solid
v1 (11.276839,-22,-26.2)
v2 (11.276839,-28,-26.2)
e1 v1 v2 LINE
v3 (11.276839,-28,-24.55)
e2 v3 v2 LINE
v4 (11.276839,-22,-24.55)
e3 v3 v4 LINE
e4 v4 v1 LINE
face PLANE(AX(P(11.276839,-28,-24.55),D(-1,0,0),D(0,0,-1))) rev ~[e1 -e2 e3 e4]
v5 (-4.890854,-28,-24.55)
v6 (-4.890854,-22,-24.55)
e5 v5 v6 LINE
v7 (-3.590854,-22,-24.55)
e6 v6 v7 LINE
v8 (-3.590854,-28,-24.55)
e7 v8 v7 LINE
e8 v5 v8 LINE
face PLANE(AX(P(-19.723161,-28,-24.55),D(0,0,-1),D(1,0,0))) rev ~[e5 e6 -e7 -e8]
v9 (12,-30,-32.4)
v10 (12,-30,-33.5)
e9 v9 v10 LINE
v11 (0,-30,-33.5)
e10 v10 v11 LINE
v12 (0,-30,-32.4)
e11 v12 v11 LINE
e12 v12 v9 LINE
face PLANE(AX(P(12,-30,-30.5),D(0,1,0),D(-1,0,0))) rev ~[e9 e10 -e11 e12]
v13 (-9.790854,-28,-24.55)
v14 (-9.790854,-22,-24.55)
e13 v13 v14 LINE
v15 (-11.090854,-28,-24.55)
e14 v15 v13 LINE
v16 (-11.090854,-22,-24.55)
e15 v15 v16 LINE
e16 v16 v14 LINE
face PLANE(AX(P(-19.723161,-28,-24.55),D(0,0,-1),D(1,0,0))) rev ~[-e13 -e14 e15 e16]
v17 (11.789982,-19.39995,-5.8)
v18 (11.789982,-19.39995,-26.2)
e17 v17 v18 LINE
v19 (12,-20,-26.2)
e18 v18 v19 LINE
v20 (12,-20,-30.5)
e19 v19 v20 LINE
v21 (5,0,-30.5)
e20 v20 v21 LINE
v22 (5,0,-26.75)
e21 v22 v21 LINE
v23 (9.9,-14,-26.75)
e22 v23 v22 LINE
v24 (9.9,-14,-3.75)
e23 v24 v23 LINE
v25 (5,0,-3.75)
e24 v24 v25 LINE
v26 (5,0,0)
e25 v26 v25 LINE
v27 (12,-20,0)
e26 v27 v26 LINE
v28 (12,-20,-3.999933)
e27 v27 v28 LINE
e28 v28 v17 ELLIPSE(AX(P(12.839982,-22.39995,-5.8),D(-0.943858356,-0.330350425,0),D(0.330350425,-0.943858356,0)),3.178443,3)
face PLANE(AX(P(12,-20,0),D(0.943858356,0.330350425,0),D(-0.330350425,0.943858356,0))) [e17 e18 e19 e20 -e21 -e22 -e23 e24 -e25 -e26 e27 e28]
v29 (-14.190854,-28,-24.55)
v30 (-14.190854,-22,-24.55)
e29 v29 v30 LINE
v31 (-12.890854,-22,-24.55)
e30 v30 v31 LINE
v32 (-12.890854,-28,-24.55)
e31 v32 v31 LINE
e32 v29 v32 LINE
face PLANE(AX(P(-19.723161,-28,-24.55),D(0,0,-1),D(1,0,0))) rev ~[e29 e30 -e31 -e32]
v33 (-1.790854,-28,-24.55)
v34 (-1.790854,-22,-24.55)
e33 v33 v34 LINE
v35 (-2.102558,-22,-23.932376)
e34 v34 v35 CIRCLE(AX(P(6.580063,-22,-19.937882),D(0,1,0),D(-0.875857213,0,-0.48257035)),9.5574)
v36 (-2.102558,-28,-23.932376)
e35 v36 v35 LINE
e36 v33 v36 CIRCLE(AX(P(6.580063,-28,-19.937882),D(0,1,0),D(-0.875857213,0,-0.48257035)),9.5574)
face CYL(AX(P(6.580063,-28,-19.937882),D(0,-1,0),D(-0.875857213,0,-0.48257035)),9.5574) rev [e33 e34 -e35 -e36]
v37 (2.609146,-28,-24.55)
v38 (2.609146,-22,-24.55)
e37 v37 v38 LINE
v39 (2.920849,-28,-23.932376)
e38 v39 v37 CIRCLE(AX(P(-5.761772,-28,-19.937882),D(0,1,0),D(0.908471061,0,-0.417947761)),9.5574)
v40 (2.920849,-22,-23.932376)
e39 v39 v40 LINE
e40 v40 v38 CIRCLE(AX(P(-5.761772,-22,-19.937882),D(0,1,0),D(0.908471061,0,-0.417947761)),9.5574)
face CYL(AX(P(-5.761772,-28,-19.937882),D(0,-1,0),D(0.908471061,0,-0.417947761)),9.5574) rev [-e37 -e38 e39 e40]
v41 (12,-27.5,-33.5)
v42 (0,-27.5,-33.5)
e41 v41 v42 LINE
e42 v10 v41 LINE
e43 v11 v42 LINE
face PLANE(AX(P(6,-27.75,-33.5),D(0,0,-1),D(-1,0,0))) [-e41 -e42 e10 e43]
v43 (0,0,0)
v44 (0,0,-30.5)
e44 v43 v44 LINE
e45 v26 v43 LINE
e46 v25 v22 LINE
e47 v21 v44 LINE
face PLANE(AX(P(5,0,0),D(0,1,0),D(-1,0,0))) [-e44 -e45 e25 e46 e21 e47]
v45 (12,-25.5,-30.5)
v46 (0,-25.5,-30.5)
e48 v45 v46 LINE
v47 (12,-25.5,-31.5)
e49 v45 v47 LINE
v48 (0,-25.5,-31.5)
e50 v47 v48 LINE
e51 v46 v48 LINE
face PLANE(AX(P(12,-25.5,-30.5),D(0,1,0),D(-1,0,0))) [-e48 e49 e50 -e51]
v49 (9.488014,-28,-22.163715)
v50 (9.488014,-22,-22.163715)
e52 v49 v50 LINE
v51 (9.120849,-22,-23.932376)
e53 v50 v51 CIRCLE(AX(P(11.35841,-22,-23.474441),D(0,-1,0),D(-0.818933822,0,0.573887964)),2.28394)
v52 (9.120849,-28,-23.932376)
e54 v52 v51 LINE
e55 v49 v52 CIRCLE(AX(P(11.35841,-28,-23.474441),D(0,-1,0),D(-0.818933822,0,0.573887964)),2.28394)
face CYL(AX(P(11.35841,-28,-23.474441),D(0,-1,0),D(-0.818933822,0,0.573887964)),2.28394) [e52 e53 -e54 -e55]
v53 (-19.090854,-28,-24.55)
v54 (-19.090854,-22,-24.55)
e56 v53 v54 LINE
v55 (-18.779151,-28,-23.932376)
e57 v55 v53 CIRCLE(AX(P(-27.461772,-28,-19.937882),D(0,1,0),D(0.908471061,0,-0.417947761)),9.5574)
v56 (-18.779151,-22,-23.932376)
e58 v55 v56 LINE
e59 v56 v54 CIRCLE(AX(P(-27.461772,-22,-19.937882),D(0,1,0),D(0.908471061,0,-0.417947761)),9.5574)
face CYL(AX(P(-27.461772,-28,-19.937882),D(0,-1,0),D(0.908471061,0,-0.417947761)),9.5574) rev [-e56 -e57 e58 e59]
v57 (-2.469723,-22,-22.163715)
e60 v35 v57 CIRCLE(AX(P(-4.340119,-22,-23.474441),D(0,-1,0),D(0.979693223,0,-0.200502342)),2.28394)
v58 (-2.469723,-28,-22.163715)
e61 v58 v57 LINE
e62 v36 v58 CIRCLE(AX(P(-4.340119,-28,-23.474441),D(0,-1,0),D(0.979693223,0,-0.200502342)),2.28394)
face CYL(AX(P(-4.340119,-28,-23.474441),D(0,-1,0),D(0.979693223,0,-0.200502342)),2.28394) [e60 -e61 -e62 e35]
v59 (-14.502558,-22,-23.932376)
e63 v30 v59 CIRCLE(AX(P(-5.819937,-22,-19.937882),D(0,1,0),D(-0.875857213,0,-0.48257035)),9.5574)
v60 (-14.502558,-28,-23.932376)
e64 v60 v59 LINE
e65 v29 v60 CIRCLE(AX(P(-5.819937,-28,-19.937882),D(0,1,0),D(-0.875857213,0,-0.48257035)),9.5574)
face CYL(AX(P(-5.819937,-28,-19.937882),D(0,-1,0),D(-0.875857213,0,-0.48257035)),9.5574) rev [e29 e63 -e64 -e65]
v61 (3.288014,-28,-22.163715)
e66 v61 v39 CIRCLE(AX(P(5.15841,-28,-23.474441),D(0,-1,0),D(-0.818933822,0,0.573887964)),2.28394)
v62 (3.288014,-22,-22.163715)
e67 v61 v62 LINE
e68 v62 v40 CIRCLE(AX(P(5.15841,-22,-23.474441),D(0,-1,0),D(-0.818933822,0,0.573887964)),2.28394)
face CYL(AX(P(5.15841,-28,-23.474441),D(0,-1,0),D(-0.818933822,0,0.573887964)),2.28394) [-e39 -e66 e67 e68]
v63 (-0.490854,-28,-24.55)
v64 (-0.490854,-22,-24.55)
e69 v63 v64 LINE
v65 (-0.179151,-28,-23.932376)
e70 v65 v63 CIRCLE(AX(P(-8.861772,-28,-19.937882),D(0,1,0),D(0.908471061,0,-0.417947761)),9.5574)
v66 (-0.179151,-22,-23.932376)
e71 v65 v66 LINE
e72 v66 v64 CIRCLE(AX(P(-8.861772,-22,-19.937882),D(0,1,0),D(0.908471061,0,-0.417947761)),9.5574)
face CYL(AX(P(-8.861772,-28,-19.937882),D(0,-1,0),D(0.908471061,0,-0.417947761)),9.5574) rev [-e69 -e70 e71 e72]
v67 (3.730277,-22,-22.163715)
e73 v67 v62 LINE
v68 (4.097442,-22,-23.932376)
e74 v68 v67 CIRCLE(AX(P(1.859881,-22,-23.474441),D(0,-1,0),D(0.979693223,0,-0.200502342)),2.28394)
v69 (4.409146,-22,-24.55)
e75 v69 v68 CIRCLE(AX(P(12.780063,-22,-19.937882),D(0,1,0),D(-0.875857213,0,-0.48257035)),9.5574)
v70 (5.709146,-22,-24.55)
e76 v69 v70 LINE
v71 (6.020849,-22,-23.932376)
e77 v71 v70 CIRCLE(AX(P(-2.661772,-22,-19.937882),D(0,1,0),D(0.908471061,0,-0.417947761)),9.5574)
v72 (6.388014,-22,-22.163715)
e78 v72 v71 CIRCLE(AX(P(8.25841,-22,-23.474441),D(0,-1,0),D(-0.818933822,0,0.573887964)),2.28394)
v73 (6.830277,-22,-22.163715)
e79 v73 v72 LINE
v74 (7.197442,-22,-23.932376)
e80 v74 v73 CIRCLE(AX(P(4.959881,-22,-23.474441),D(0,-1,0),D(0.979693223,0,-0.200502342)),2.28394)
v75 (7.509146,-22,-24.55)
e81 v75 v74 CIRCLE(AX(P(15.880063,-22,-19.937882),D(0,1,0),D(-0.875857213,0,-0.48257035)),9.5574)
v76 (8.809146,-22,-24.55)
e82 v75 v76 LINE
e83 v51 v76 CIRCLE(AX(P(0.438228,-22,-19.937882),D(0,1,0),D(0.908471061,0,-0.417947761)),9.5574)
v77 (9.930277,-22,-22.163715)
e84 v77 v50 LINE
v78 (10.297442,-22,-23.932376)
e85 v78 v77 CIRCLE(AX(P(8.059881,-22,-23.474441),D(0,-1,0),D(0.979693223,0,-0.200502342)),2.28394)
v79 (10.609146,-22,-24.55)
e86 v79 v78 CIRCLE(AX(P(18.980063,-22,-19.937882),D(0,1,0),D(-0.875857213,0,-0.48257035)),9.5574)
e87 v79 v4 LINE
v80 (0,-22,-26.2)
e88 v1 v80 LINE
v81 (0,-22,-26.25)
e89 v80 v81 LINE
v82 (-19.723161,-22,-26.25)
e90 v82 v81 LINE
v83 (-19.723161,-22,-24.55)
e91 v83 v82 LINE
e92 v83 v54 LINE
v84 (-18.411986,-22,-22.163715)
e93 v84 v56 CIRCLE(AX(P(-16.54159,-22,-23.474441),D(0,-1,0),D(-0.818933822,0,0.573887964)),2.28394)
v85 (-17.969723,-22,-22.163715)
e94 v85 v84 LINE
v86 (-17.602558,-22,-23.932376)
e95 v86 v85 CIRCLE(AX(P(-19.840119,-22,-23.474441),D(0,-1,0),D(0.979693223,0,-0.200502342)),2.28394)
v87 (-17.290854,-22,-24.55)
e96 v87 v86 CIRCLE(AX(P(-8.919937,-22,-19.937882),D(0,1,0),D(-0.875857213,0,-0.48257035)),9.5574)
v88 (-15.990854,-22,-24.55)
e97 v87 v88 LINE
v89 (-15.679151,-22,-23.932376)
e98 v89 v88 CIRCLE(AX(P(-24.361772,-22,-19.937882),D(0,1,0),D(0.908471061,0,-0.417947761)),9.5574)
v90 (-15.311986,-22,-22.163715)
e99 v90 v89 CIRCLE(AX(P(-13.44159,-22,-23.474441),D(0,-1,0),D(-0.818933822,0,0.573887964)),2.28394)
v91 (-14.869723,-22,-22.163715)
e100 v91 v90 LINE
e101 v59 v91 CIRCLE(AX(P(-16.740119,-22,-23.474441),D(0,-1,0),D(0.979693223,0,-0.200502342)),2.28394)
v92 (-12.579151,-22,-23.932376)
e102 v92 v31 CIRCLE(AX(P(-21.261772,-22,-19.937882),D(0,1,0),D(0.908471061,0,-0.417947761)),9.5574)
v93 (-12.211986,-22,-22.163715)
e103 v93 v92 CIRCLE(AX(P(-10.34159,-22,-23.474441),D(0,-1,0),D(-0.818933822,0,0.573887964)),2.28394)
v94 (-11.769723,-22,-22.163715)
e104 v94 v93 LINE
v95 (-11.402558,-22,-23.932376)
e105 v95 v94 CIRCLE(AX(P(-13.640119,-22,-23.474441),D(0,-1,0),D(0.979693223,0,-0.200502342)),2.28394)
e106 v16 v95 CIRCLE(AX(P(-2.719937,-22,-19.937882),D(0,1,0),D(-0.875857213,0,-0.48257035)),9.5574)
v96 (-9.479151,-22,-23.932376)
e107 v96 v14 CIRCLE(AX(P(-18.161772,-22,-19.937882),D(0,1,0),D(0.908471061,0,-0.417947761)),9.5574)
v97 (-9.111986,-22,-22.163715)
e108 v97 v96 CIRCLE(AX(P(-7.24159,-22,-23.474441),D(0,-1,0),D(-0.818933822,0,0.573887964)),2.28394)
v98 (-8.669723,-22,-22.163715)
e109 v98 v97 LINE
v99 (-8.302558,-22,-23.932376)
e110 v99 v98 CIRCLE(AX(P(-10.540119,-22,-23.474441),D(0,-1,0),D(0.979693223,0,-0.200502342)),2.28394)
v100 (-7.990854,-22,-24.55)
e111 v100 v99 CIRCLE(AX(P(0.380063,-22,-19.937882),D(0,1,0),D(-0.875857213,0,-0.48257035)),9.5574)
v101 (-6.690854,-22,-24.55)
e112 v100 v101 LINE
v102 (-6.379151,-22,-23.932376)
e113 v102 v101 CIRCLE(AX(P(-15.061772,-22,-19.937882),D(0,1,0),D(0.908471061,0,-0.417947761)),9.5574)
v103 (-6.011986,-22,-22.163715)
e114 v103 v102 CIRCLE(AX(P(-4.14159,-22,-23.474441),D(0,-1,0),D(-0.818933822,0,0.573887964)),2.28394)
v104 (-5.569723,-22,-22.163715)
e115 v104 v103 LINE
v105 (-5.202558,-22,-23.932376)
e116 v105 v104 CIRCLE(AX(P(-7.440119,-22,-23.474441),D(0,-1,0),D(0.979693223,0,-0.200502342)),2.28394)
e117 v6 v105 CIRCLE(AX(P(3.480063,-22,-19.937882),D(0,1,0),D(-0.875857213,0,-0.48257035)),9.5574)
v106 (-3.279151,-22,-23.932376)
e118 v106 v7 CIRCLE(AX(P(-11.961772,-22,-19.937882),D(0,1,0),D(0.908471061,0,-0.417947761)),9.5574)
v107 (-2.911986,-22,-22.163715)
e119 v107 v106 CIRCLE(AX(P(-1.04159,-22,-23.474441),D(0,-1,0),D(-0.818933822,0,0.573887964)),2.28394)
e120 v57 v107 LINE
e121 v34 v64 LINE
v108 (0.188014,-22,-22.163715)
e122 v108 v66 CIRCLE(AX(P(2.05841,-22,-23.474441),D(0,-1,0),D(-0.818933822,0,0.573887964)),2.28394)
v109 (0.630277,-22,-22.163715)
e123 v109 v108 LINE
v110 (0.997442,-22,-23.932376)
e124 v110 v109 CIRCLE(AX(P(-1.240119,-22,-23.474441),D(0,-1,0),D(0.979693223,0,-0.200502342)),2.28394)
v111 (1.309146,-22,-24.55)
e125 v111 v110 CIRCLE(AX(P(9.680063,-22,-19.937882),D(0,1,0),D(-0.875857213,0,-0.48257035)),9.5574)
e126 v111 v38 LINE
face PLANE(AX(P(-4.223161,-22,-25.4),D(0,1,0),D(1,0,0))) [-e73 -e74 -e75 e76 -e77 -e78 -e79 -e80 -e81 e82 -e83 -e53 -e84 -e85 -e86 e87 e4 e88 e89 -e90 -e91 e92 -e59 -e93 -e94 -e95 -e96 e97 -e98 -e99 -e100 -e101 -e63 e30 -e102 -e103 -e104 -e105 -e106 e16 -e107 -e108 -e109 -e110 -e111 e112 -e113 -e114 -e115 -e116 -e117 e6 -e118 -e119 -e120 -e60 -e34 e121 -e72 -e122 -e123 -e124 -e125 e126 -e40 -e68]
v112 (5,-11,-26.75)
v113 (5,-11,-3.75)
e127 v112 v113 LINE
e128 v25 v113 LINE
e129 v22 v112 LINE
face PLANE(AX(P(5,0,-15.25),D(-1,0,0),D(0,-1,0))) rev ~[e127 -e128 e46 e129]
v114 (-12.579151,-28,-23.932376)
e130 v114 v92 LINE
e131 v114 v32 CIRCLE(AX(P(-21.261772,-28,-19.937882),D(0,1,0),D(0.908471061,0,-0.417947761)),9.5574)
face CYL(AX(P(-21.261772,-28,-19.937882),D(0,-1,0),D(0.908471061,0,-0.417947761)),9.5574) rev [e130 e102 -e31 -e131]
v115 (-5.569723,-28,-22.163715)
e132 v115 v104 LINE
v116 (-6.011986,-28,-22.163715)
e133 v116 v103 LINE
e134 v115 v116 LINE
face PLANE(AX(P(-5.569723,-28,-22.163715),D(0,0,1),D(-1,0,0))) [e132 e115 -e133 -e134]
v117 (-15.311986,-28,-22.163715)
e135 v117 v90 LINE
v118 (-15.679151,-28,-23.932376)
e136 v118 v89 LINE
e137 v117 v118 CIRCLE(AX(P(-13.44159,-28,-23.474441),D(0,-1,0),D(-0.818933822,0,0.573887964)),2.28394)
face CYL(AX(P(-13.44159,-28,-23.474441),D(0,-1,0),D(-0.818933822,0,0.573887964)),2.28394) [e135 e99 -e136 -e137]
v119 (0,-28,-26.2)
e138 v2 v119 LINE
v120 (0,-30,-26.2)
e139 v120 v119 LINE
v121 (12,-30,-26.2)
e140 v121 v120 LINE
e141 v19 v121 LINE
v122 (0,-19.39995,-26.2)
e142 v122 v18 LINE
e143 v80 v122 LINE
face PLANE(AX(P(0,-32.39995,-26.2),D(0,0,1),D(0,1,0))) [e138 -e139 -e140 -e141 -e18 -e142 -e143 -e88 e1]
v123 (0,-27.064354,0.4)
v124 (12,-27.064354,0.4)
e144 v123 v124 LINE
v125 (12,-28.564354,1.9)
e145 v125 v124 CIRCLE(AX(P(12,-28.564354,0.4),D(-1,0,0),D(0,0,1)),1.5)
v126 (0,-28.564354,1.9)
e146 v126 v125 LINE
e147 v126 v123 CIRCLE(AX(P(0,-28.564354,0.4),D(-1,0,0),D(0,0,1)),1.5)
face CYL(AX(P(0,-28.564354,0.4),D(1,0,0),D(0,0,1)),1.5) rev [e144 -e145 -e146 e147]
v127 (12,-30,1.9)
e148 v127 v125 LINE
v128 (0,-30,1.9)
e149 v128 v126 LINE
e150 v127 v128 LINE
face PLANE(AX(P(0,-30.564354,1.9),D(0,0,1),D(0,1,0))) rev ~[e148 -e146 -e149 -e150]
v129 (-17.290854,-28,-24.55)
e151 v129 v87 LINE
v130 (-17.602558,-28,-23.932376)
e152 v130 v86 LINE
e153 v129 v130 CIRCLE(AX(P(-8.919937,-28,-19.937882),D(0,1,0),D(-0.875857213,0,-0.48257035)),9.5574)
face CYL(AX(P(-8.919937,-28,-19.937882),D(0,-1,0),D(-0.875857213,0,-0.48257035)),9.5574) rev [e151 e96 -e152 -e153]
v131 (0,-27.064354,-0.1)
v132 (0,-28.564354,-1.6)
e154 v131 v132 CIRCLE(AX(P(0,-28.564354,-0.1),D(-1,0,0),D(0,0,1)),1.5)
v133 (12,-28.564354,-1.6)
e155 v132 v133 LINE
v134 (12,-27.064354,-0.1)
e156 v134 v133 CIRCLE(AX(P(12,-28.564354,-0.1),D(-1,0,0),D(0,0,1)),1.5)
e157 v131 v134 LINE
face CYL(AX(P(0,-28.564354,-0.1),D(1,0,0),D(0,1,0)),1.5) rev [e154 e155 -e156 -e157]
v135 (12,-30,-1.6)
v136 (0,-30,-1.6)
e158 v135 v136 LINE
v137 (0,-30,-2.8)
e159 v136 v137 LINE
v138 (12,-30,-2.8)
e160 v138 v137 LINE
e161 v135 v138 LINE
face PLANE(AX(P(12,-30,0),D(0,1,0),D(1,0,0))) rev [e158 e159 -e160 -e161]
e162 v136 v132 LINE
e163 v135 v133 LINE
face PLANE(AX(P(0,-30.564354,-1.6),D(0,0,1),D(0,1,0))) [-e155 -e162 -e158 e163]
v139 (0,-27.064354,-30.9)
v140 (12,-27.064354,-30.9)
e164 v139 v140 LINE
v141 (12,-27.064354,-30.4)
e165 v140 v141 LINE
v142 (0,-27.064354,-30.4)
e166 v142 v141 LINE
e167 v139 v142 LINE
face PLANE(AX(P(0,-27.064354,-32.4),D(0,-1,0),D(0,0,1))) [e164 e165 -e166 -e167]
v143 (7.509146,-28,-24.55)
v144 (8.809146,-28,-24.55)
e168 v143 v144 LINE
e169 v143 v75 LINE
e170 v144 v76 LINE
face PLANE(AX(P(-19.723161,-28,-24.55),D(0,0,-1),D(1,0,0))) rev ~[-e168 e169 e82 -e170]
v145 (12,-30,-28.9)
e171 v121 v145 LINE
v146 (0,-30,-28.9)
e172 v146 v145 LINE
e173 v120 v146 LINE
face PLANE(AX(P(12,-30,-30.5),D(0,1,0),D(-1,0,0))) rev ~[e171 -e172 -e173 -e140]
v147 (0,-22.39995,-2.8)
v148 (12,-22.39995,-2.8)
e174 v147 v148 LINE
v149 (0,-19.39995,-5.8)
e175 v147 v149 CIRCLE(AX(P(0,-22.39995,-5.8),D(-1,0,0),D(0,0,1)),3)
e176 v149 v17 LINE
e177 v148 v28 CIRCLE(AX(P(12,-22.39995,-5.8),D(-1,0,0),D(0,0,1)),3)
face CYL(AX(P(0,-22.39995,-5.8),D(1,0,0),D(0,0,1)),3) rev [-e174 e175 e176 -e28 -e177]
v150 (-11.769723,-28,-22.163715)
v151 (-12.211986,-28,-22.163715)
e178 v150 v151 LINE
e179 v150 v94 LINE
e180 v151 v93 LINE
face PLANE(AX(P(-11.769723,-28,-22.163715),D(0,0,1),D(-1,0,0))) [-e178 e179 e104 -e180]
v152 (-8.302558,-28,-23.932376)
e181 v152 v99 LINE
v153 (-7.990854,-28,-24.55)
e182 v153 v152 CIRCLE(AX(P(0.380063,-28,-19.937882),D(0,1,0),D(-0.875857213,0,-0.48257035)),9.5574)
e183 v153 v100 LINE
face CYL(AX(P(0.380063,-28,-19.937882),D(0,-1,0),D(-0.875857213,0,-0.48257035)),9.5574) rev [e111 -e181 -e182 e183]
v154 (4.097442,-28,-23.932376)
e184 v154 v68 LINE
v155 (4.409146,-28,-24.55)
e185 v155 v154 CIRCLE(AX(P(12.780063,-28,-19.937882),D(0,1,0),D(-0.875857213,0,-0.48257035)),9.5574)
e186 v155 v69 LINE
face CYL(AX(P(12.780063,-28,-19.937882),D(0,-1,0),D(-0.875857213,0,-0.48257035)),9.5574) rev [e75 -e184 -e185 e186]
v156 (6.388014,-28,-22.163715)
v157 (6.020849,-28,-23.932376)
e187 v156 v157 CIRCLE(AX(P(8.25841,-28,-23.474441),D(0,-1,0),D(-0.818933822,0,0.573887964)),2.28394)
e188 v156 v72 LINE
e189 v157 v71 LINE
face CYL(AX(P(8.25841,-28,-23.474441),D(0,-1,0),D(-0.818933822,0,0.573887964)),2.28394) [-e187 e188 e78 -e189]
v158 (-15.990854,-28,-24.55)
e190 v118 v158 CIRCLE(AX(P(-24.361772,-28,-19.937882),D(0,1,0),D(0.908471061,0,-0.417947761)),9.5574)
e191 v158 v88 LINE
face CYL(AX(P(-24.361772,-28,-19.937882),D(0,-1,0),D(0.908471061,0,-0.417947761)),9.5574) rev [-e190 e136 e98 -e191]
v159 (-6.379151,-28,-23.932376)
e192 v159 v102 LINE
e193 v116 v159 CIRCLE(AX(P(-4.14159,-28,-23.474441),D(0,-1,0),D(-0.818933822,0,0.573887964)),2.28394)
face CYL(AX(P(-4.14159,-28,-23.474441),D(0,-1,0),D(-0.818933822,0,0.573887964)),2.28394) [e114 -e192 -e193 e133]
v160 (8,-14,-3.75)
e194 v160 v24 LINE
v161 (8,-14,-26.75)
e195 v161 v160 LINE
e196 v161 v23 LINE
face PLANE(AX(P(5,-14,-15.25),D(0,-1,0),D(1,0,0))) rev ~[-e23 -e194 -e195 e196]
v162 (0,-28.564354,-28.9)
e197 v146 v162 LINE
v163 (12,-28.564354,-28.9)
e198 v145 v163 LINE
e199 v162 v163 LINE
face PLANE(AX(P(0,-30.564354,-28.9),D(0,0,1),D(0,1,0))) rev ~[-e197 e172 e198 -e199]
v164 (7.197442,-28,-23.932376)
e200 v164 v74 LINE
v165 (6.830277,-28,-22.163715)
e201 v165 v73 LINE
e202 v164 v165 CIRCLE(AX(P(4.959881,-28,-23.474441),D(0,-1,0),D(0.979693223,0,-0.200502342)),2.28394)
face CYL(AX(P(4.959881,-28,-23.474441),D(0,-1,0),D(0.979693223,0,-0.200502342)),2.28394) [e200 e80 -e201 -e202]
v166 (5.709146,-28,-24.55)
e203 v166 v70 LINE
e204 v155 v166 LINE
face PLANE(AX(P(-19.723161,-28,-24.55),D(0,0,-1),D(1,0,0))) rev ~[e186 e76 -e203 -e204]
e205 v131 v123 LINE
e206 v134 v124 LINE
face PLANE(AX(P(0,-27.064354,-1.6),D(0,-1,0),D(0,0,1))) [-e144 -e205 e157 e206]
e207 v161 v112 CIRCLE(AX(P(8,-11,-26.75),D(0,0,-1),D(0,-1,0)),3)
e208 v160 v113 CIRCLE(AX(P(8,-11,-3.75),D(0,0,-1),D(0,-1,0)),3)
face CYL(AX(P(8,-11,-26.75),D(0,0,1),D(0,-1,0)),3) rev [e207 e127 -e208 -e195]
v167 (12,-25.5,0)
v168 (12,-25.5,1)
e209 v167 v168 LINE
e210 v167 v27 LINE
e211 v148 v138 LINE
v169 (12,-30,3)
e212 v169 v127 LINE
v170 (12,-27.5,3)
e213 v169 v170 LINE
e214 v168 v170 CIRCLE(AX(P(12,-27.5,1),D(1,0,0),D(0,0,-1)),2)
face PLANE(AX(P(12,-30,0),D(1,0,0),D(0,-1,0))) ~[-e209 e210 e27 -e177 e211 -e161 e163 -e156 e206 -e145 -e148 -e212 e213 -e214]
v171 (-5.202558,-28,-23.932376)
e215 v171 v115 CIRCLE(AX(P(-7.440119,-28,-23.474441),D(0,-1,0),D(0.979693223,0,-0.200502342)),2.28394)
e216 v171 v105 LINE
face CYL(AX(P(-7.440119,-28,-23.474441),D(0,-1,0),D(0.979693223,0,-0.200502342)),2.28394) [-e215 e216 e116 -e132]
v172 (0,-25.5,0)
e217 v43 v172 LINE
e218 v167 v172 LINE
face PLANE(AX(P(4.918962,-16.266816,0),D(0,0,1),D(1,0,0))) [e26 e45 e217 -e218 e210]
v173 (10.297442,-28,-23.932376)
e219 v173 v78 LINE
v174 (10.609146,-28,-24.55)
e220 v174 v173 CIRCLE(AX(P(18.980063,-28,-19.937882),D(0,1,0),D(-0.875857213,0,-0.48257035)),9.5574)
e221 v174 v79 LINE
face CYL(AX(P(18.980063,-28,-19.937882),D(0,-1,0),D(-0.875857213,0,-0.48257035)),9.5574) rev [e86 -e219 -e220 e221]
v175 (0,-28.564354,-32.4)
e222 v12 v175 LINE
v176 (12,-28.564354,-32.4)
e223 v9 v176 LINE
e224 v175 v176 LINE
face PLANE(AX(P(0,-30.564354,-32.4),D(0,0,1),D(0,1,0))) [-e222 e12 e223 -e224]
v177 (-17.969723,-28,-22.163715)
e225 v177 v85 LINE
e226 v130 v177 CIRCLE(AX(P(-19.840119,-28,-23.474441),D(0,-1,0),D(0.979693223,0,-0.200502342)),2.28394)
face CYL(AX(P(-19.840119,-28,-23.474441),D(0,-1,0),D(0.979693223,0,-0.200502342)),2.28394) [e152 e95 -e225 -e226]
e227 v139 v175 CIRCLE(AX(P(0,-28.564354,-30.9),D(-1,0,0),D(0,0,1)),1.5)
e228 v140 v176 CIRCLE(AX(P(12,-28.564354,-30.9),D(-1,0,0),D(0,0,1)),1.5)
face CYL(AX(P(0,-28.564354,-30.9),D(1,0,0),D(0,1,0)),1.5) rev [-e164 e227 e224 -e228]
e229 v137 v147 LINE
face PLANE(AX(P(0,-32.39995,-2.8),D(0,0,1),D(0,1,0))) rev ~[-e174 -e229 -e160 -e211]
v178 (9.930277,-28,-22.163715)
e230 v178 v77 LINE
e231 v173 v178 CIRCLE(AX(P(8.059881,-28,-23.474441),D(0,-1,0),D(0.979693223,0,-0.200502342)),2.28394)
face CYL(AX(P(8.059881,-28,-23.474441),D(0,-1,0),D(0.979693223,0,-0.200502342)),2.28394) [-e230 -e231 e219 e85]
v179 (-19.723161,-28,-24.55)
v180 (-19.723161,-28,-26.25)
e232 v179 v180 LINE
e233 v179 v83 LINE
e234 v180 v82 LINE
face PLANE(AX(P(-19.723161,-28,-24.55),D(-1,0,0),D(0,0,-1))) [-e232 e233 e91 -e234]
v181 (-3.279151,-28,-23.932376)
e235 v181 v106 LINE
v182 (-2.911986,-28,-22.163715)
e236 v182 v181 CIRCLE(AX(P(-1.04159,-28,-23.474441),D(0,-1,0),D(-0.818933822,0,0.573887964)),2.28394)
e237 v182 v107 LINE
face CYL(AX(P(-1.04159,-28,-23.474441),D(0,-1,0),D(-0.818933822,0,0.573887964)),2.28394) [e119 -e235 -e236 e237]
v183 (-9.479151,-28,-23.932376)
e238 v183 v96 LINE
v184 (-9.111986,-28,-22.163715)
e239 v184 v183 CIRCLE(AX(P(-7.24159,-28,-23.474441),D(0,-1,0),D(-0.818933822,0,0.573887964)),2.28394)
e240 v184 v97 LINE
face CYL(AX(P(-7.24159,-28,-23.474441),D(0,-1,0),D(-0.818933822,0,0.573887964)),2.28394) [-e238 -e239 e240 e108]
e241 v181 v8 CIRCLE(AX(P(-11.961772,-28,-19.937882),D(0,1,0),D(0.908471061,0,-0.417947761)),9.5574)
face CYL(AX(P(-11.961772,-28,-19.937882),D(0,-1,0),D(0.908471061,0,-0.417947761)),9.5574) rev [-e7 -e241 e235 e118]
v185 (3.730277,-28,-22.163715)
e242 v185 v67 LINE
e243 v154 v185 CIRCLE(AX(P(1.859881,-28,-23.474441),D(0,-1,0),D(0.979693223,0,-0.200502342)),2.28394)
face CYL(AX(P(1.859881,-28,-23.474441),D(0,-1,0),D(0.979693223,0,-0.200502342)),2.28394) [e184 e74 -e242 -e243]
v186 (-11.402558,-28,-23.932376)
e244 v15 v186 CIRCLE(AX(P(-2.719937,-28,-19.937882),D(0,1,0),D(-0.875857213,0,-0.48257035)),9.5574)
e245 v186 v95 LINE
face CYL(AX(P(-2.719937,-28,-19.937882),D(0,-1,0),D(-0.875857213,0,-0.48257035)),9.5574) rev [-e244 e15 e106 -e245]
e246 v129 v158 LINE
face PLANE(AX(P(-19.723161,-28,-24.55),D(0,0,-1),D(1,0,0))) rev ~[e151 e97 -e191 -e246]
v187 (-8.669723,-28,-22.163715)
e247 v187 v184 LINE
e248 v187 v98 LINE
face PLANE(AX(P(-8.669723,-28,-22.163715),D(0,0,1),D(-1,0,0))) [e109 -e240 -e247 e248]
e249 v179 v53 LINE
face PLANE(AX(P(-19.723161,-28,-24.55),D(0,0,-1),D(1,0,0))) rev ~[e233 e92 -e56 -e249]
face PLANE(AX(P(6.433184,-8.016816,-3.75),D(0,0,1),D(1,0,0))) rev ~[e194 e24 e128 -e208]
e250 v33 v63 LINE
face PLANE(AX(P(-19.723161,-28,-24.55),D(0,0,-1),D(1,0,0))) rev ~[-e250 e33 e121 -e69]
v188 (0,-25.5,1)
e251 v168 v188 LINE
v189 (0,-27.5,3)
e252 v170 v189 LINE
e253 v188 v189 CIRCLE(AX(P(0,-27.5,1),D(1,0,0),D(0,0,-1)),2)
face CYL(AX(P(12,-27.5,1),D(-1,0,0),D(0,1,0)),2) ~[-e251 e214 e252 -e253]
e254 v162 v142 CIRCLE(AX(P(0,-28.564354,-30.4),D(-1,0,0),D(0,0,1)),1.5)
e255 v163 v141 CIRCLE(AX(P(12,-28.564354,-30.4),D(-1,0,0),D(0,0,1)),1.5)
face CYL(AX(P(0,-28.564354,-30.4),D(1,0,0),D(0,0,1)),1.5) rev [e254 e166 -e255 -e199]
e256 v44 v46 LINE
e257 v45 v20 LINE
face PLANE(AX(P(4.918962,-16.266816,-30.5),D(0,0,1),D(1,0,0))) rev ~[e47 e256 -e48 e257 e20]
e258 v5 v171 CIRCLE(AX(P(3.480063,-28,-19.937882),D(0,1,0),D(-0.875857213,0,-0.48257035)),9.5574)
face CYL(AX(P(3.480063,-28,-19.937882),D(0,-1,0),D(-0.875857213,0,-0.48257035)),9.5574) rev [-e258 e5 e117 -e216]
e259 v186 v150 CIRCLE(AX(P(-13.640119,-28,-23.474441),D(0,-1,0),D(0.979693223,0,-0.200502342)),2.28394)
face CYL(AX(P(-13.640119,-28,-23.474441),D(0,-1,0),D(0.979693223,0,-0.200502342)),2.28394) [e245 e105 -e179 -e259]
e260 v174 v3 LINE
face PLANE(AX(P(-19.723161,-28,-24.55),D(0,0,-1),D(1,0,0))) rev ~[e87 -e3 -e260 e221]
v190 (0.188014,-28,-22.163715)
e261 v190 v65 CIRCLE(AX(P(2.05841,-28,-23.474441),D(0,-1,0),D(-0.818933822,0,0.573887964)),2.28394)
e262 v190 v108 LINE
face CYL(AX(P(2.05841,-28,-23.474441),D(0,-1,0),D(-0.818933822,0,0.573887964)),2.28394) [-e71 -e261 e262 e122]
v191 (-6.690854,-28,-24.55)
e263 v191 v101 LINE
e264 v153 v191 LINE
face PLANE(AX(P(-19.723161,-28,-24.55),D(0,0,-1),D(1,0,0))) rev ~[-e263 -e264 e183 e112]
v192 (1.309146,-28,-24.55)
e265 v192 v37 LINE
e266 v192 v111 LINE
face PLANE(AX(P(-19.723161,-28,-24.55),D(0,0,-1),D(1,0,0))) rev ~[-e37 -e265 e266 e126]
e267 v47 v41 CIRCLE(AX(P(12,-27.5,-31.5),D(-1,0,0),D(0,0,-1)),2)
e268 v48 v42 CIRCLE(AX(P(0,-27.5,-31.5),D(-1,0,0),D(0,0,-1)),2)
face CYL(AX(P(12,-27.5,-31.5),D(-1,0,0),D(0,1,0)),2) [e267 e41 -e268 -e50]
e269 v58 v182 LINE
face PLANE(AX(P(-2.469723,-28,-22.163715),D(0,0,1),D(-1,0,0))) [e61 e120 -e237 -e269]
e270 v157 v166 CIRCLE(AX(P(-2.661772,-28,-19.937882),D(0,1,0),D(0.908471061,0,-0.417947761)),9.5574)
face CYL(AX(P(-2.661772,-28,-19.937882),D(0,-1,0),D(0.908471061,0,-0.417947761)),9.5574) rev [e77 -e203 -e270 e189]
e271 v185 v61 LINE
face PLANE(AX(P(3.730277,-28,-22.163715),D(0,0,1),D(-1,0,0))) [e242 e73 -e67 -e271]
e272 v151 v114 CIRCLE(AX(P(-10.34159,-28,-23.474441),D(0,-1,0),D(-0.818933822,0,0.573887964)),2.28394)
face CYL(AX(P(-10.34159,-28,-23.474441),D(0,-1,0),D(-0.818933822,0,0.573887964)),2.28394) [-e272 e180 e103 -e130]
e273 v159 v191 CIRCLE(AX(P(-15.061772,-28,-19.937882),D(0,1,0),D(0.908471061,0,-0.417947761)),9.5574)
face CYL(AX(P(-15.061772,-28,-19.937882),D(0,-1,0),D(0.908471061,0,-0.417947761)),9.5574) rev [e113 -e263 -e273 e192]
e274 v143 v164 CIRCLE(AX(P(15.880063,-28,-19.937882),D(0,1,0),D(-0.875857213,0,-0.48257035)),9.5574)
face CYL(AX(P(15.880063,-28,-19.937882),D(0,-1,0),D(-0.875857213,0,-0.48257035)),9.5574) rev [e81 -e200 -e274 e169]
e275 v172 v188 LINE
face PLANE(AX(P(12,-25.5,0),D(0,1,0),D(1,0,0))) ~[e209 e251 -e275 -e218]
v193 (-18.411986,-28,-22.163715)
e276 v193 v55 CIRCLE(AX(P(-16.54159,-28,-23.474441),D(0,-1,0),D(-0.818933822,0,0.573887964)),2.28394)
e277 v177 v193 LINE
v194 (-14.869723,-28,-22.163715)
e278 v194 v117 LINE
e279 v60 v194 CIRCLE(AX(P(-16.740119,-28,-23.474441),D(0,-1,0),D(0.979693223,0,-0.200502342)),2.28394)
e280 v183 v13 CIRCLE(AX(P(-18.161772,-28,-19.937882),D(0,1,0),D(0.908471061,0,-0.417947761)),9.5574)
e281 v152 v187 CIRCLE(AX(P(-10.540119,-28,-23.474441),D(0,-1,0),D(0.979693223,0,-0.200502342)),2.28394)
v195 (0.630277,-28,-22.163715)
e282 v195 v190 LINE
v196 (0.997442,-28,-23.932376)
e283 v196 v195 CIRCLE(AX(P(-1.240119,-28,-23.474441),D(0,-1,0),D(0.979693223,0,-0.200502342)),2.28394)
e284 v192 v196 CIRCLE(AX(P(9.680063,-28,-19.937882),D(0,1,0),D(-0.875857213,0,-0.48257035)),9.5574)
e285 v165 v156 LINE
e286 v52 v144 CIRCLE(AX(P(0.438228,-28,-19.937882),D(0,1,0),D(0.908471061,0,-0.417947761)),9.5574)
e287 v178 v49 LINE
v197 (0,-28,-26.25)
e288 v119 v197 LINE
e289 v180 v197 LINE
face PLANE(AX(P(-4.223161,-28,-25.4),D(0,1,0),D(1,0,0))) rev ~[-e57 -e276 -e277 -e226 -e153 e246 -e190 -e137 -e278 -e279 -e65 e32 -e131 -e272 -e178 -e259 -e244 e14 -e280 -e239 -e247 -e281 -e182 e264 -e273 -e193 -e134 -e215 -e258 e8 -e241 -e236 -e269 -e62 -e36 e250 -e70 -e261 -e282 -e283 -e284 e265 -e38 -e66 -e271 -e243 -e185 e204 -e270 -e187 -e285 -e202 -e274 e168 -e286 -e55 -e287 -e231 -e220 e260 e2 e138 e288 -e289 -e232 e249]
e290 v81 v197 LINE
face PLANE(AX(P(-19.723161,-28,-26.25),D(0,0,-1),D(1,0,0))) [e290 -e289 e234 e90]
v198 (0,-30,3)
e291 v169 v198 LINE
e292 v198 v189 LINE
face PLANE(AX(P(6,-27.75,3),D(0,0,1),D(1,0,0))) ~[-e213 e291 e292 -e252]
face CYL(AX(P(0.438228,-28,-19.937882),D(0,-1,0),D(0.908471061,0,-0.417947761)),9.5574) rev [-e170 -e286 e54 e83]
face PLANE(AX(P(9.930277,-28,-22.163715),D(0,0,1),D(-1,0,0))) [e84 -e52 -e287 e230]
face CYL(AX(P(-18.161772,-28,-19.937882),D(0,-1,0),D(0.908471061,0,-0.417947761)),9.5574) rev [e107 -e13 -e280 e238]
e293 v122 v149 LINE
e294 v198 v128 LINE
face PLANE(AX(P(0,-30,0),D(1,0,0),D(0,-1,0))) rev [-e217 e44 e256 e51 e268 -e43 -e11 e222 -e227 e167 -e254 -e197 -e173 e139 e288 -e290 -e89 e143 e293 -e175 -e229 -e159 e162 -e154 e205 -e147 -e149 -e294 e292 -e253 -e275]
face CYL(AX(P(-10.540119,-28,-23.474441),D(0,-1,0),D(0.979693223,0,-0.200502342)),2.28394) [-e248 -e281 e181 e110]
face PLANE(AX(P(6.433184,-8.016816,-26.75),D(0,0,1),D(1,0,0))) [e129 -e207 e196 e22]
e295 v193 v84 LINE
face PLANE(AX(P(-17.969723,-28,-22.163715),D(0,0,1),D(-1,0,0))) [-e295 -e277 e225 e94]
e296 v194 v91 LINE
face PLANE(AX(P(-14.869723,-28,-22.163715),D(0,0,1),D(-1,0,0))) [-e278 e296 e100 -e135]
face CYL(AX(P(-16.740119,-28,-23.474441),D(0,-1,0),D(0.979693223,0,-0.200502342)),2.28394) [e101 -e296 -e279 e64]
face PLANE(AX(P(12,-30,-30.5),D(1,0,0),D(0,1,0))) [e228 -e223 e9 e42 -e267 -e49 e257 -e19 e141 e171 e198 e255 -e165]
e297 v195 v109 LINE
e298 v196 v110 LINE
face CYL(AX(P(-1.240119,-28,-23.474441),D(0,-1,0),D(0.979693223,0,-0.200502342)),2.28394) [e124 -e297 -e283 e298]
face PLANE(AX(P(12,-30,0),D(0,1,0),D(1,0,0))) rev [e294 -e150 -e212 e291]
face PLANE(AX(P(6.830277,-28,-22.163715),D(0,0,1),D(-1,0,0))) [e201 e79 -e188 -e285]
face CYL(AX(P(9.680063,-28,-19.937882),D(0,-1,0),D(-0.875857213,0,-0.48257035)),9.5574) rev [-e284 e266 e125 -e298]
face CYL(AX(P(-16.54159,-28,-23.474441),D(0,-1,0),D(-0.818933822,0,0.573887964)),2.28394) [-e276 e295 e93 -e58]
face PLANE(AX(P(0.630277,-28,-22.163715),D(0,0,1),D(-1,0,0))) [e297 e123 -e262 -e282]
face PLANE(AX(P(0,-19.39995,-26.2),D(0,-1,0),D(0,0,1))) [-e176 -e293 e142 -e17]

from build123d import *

# Parameters (mm, degrees)
BOSS_EXTRUDE1_DEPTH = 30.5
SKETCH4_W           = 23.4
SKETCH4_H           = 13
CUT_EXTRUDE2_DEPTH  = 25
CUT_EXTRUDE4_DEPTH  = 11.5
SKETCH7_W           = 31
SKETCH7_H           = 1.7
BOSS_EXTRUDE3_DEPTH = 6
BOSS_EXTRUDE4_DEPTH = 6
LPATTERN1_COUNT     = 10
LPATTERN1_PITCH     = 3.1
SKETCH11_W          = 12
SKETCH11_H          = 4.5
BOSS_EXTRUDE5_DEPTH = 3
FILLET1_R           = 2
FILLET2_R           = 2
FILLET5_R           = 3
SKETCH12_W          = 3.5
SKETCH12_H          = 3.5
CUT_EXTRUDE5_DEPTH  = 12
FILLET6_R           = 1.5


with BuildPart() as part:
    # Sketch1 → Boss-Extrude1 (new body)
    with BuildSketch(Plane.XY):
        Polygon((0, 0), (0, -30), (12, -30), (12, -20), (5, 0), align=None)
    extrude(amount=-BOSS_EXTRUDE1_DEPTH)

    # Sketch4 → Cut-Extrude2 (cut)
    with BuildSketch(Plane.ZY):
        with Locations((-14.5, -25.899949695)):
            Rectangle(SKETCH4_W, SKETCH4_H)
    extrude(amount=-CUT_EXTRUDE2_DEPTH, mode=Mode.SUBTRACT)

    # Sketch6 → Cut-Extrude4 (cut, symmetric)
    with BuildSketch(Plane.XY.offset(-15.25)):
        Polygon((5, 0), (5, -14), (9.9, -14), align=None)
    extrude(amount=CUT_EXTRUDE4_DEPTH, both=True, mode=Mode.SUBTRACT)

    # Sketch7 → Boss-Extrude3 (add)
    with BuildSketch(Plane(origin=(0, -28, 0), x_dir=(1, 0, 0), z_dir=(0, 1, 0))):
        with Locations((-4.2231607, 25.4)):
            Rectangle(SKETCH7_W, SKETCH7_H)
    extrude(amount=BOSS_EXTRUDE3_DEPTH)

    # Sketch10 → Boss-Extrude4 (add)
    with BuildSketch(Plane(origin=(0, -28, 0), x_dir=(1, 0, 0), z_dir=(0, 1, 0))):
        with BuildLine():
            Line((9.930277247, 22.163714857), (9.488014181, 22.163714857))
            ThreePointArc((9.488014181, 22.163714857), (9.122148109, 23.010204326), (9.120849309, 23.932376064))
            ThreePointArc((9.120849309, 23.932376064), (8.970587763, 24.244009331), (8.809145714, 24.55))
            Line((8.809145714, 24.55), (10.609145714, 24.55))
            ThreePointArc((10.609145714, 24.55), (10.447703664, 24.244009331), (10.297442118, 23.932376064))
            ThreePointArc((10.297442118, 23.932376064), (10.296143319, 23.010204326), (9.930277247, 22.163714857))
        make_face()
    boss_extrude4 = extrude(amount=BOSS_EXTRUDE4_DEPTH)

    # LPattern1: Boss-Extrude4 ×10
    with Locations(*[(-i * LPATTERN1_PITCH, 0, 0) for i in range(1, LPATTERN1_COUNT)]):
        add(boss_extrude4)

    # Sketch11 → Boss-Extrude5 (add)
    with BuildSketch(Plane(origin=(0, 0, -30.5), x_dir=(-1, 0, 0), z_dir=(0, 0, -1))):
        with Locations((-6, -27.75)):
            Rectangle(SKETCH11_W, SKETCH11_H)
    boss_extrude5 = extrude(amount=BOSS_EXTRUDE5_DEPTH)

    # Fillet1
    fillet1_edges = [part.edges().sort_by_distance(p)[0] for p in [
        (6, -25.5, -33.5),
    ]]
    fillet(fillet1_edges, radius=FILLET1_R)

    # Mirror1: Boss-Extrude5 across plane
    add(boss_extrude5.mirror(Plane.XY.offset(-15.25)))

    # Fillet2
    fillet2_edges = [part.edges().sort_by_distance(p)[0] for p in [
        (6, -25.5, 3),
    ]]
    fillet(fillet2_edges, radius=FILLET2_R)

    # Fillet5
    fillet5_edges = [part.edges().sort_by_distance(p)[0] for p in [
        (5, -14, -15.25),
        (5.894991197, -19.399949695, -2.8),
    ]]
    fillet(fillet5_edges, radius=FILLET5_R)

    # Sketch12 → Cut-Extrude5 (cut)
    with BuildSketch(Plane.ZY):
        with Locations((-30.65, -28.814354386)):
            Rectangle(SKETCH12_W, SKETCH12_H)
        with Locations((0.15, -28.814354386)):
            Rectangle(SKETCH12_W, SKETCH12_H)
    extrude(amount=-CUT_EXTRUDE5_DEPTH, mode=Mode.SUBTRACT)

    # Fillet6
    fillet6_edges = [part.edges().sort_by_distance(p)[0] for p in [
        (6, -27.064354386, -28.9),
        (6, -27.064354386, -32.4),
        (6, -27.064354386, -1.6),
        (6, -27.064354386, 1.9),
    ]]
    fillet(fillet6_edges, radius=FILLET6_R)


solid = part.part
